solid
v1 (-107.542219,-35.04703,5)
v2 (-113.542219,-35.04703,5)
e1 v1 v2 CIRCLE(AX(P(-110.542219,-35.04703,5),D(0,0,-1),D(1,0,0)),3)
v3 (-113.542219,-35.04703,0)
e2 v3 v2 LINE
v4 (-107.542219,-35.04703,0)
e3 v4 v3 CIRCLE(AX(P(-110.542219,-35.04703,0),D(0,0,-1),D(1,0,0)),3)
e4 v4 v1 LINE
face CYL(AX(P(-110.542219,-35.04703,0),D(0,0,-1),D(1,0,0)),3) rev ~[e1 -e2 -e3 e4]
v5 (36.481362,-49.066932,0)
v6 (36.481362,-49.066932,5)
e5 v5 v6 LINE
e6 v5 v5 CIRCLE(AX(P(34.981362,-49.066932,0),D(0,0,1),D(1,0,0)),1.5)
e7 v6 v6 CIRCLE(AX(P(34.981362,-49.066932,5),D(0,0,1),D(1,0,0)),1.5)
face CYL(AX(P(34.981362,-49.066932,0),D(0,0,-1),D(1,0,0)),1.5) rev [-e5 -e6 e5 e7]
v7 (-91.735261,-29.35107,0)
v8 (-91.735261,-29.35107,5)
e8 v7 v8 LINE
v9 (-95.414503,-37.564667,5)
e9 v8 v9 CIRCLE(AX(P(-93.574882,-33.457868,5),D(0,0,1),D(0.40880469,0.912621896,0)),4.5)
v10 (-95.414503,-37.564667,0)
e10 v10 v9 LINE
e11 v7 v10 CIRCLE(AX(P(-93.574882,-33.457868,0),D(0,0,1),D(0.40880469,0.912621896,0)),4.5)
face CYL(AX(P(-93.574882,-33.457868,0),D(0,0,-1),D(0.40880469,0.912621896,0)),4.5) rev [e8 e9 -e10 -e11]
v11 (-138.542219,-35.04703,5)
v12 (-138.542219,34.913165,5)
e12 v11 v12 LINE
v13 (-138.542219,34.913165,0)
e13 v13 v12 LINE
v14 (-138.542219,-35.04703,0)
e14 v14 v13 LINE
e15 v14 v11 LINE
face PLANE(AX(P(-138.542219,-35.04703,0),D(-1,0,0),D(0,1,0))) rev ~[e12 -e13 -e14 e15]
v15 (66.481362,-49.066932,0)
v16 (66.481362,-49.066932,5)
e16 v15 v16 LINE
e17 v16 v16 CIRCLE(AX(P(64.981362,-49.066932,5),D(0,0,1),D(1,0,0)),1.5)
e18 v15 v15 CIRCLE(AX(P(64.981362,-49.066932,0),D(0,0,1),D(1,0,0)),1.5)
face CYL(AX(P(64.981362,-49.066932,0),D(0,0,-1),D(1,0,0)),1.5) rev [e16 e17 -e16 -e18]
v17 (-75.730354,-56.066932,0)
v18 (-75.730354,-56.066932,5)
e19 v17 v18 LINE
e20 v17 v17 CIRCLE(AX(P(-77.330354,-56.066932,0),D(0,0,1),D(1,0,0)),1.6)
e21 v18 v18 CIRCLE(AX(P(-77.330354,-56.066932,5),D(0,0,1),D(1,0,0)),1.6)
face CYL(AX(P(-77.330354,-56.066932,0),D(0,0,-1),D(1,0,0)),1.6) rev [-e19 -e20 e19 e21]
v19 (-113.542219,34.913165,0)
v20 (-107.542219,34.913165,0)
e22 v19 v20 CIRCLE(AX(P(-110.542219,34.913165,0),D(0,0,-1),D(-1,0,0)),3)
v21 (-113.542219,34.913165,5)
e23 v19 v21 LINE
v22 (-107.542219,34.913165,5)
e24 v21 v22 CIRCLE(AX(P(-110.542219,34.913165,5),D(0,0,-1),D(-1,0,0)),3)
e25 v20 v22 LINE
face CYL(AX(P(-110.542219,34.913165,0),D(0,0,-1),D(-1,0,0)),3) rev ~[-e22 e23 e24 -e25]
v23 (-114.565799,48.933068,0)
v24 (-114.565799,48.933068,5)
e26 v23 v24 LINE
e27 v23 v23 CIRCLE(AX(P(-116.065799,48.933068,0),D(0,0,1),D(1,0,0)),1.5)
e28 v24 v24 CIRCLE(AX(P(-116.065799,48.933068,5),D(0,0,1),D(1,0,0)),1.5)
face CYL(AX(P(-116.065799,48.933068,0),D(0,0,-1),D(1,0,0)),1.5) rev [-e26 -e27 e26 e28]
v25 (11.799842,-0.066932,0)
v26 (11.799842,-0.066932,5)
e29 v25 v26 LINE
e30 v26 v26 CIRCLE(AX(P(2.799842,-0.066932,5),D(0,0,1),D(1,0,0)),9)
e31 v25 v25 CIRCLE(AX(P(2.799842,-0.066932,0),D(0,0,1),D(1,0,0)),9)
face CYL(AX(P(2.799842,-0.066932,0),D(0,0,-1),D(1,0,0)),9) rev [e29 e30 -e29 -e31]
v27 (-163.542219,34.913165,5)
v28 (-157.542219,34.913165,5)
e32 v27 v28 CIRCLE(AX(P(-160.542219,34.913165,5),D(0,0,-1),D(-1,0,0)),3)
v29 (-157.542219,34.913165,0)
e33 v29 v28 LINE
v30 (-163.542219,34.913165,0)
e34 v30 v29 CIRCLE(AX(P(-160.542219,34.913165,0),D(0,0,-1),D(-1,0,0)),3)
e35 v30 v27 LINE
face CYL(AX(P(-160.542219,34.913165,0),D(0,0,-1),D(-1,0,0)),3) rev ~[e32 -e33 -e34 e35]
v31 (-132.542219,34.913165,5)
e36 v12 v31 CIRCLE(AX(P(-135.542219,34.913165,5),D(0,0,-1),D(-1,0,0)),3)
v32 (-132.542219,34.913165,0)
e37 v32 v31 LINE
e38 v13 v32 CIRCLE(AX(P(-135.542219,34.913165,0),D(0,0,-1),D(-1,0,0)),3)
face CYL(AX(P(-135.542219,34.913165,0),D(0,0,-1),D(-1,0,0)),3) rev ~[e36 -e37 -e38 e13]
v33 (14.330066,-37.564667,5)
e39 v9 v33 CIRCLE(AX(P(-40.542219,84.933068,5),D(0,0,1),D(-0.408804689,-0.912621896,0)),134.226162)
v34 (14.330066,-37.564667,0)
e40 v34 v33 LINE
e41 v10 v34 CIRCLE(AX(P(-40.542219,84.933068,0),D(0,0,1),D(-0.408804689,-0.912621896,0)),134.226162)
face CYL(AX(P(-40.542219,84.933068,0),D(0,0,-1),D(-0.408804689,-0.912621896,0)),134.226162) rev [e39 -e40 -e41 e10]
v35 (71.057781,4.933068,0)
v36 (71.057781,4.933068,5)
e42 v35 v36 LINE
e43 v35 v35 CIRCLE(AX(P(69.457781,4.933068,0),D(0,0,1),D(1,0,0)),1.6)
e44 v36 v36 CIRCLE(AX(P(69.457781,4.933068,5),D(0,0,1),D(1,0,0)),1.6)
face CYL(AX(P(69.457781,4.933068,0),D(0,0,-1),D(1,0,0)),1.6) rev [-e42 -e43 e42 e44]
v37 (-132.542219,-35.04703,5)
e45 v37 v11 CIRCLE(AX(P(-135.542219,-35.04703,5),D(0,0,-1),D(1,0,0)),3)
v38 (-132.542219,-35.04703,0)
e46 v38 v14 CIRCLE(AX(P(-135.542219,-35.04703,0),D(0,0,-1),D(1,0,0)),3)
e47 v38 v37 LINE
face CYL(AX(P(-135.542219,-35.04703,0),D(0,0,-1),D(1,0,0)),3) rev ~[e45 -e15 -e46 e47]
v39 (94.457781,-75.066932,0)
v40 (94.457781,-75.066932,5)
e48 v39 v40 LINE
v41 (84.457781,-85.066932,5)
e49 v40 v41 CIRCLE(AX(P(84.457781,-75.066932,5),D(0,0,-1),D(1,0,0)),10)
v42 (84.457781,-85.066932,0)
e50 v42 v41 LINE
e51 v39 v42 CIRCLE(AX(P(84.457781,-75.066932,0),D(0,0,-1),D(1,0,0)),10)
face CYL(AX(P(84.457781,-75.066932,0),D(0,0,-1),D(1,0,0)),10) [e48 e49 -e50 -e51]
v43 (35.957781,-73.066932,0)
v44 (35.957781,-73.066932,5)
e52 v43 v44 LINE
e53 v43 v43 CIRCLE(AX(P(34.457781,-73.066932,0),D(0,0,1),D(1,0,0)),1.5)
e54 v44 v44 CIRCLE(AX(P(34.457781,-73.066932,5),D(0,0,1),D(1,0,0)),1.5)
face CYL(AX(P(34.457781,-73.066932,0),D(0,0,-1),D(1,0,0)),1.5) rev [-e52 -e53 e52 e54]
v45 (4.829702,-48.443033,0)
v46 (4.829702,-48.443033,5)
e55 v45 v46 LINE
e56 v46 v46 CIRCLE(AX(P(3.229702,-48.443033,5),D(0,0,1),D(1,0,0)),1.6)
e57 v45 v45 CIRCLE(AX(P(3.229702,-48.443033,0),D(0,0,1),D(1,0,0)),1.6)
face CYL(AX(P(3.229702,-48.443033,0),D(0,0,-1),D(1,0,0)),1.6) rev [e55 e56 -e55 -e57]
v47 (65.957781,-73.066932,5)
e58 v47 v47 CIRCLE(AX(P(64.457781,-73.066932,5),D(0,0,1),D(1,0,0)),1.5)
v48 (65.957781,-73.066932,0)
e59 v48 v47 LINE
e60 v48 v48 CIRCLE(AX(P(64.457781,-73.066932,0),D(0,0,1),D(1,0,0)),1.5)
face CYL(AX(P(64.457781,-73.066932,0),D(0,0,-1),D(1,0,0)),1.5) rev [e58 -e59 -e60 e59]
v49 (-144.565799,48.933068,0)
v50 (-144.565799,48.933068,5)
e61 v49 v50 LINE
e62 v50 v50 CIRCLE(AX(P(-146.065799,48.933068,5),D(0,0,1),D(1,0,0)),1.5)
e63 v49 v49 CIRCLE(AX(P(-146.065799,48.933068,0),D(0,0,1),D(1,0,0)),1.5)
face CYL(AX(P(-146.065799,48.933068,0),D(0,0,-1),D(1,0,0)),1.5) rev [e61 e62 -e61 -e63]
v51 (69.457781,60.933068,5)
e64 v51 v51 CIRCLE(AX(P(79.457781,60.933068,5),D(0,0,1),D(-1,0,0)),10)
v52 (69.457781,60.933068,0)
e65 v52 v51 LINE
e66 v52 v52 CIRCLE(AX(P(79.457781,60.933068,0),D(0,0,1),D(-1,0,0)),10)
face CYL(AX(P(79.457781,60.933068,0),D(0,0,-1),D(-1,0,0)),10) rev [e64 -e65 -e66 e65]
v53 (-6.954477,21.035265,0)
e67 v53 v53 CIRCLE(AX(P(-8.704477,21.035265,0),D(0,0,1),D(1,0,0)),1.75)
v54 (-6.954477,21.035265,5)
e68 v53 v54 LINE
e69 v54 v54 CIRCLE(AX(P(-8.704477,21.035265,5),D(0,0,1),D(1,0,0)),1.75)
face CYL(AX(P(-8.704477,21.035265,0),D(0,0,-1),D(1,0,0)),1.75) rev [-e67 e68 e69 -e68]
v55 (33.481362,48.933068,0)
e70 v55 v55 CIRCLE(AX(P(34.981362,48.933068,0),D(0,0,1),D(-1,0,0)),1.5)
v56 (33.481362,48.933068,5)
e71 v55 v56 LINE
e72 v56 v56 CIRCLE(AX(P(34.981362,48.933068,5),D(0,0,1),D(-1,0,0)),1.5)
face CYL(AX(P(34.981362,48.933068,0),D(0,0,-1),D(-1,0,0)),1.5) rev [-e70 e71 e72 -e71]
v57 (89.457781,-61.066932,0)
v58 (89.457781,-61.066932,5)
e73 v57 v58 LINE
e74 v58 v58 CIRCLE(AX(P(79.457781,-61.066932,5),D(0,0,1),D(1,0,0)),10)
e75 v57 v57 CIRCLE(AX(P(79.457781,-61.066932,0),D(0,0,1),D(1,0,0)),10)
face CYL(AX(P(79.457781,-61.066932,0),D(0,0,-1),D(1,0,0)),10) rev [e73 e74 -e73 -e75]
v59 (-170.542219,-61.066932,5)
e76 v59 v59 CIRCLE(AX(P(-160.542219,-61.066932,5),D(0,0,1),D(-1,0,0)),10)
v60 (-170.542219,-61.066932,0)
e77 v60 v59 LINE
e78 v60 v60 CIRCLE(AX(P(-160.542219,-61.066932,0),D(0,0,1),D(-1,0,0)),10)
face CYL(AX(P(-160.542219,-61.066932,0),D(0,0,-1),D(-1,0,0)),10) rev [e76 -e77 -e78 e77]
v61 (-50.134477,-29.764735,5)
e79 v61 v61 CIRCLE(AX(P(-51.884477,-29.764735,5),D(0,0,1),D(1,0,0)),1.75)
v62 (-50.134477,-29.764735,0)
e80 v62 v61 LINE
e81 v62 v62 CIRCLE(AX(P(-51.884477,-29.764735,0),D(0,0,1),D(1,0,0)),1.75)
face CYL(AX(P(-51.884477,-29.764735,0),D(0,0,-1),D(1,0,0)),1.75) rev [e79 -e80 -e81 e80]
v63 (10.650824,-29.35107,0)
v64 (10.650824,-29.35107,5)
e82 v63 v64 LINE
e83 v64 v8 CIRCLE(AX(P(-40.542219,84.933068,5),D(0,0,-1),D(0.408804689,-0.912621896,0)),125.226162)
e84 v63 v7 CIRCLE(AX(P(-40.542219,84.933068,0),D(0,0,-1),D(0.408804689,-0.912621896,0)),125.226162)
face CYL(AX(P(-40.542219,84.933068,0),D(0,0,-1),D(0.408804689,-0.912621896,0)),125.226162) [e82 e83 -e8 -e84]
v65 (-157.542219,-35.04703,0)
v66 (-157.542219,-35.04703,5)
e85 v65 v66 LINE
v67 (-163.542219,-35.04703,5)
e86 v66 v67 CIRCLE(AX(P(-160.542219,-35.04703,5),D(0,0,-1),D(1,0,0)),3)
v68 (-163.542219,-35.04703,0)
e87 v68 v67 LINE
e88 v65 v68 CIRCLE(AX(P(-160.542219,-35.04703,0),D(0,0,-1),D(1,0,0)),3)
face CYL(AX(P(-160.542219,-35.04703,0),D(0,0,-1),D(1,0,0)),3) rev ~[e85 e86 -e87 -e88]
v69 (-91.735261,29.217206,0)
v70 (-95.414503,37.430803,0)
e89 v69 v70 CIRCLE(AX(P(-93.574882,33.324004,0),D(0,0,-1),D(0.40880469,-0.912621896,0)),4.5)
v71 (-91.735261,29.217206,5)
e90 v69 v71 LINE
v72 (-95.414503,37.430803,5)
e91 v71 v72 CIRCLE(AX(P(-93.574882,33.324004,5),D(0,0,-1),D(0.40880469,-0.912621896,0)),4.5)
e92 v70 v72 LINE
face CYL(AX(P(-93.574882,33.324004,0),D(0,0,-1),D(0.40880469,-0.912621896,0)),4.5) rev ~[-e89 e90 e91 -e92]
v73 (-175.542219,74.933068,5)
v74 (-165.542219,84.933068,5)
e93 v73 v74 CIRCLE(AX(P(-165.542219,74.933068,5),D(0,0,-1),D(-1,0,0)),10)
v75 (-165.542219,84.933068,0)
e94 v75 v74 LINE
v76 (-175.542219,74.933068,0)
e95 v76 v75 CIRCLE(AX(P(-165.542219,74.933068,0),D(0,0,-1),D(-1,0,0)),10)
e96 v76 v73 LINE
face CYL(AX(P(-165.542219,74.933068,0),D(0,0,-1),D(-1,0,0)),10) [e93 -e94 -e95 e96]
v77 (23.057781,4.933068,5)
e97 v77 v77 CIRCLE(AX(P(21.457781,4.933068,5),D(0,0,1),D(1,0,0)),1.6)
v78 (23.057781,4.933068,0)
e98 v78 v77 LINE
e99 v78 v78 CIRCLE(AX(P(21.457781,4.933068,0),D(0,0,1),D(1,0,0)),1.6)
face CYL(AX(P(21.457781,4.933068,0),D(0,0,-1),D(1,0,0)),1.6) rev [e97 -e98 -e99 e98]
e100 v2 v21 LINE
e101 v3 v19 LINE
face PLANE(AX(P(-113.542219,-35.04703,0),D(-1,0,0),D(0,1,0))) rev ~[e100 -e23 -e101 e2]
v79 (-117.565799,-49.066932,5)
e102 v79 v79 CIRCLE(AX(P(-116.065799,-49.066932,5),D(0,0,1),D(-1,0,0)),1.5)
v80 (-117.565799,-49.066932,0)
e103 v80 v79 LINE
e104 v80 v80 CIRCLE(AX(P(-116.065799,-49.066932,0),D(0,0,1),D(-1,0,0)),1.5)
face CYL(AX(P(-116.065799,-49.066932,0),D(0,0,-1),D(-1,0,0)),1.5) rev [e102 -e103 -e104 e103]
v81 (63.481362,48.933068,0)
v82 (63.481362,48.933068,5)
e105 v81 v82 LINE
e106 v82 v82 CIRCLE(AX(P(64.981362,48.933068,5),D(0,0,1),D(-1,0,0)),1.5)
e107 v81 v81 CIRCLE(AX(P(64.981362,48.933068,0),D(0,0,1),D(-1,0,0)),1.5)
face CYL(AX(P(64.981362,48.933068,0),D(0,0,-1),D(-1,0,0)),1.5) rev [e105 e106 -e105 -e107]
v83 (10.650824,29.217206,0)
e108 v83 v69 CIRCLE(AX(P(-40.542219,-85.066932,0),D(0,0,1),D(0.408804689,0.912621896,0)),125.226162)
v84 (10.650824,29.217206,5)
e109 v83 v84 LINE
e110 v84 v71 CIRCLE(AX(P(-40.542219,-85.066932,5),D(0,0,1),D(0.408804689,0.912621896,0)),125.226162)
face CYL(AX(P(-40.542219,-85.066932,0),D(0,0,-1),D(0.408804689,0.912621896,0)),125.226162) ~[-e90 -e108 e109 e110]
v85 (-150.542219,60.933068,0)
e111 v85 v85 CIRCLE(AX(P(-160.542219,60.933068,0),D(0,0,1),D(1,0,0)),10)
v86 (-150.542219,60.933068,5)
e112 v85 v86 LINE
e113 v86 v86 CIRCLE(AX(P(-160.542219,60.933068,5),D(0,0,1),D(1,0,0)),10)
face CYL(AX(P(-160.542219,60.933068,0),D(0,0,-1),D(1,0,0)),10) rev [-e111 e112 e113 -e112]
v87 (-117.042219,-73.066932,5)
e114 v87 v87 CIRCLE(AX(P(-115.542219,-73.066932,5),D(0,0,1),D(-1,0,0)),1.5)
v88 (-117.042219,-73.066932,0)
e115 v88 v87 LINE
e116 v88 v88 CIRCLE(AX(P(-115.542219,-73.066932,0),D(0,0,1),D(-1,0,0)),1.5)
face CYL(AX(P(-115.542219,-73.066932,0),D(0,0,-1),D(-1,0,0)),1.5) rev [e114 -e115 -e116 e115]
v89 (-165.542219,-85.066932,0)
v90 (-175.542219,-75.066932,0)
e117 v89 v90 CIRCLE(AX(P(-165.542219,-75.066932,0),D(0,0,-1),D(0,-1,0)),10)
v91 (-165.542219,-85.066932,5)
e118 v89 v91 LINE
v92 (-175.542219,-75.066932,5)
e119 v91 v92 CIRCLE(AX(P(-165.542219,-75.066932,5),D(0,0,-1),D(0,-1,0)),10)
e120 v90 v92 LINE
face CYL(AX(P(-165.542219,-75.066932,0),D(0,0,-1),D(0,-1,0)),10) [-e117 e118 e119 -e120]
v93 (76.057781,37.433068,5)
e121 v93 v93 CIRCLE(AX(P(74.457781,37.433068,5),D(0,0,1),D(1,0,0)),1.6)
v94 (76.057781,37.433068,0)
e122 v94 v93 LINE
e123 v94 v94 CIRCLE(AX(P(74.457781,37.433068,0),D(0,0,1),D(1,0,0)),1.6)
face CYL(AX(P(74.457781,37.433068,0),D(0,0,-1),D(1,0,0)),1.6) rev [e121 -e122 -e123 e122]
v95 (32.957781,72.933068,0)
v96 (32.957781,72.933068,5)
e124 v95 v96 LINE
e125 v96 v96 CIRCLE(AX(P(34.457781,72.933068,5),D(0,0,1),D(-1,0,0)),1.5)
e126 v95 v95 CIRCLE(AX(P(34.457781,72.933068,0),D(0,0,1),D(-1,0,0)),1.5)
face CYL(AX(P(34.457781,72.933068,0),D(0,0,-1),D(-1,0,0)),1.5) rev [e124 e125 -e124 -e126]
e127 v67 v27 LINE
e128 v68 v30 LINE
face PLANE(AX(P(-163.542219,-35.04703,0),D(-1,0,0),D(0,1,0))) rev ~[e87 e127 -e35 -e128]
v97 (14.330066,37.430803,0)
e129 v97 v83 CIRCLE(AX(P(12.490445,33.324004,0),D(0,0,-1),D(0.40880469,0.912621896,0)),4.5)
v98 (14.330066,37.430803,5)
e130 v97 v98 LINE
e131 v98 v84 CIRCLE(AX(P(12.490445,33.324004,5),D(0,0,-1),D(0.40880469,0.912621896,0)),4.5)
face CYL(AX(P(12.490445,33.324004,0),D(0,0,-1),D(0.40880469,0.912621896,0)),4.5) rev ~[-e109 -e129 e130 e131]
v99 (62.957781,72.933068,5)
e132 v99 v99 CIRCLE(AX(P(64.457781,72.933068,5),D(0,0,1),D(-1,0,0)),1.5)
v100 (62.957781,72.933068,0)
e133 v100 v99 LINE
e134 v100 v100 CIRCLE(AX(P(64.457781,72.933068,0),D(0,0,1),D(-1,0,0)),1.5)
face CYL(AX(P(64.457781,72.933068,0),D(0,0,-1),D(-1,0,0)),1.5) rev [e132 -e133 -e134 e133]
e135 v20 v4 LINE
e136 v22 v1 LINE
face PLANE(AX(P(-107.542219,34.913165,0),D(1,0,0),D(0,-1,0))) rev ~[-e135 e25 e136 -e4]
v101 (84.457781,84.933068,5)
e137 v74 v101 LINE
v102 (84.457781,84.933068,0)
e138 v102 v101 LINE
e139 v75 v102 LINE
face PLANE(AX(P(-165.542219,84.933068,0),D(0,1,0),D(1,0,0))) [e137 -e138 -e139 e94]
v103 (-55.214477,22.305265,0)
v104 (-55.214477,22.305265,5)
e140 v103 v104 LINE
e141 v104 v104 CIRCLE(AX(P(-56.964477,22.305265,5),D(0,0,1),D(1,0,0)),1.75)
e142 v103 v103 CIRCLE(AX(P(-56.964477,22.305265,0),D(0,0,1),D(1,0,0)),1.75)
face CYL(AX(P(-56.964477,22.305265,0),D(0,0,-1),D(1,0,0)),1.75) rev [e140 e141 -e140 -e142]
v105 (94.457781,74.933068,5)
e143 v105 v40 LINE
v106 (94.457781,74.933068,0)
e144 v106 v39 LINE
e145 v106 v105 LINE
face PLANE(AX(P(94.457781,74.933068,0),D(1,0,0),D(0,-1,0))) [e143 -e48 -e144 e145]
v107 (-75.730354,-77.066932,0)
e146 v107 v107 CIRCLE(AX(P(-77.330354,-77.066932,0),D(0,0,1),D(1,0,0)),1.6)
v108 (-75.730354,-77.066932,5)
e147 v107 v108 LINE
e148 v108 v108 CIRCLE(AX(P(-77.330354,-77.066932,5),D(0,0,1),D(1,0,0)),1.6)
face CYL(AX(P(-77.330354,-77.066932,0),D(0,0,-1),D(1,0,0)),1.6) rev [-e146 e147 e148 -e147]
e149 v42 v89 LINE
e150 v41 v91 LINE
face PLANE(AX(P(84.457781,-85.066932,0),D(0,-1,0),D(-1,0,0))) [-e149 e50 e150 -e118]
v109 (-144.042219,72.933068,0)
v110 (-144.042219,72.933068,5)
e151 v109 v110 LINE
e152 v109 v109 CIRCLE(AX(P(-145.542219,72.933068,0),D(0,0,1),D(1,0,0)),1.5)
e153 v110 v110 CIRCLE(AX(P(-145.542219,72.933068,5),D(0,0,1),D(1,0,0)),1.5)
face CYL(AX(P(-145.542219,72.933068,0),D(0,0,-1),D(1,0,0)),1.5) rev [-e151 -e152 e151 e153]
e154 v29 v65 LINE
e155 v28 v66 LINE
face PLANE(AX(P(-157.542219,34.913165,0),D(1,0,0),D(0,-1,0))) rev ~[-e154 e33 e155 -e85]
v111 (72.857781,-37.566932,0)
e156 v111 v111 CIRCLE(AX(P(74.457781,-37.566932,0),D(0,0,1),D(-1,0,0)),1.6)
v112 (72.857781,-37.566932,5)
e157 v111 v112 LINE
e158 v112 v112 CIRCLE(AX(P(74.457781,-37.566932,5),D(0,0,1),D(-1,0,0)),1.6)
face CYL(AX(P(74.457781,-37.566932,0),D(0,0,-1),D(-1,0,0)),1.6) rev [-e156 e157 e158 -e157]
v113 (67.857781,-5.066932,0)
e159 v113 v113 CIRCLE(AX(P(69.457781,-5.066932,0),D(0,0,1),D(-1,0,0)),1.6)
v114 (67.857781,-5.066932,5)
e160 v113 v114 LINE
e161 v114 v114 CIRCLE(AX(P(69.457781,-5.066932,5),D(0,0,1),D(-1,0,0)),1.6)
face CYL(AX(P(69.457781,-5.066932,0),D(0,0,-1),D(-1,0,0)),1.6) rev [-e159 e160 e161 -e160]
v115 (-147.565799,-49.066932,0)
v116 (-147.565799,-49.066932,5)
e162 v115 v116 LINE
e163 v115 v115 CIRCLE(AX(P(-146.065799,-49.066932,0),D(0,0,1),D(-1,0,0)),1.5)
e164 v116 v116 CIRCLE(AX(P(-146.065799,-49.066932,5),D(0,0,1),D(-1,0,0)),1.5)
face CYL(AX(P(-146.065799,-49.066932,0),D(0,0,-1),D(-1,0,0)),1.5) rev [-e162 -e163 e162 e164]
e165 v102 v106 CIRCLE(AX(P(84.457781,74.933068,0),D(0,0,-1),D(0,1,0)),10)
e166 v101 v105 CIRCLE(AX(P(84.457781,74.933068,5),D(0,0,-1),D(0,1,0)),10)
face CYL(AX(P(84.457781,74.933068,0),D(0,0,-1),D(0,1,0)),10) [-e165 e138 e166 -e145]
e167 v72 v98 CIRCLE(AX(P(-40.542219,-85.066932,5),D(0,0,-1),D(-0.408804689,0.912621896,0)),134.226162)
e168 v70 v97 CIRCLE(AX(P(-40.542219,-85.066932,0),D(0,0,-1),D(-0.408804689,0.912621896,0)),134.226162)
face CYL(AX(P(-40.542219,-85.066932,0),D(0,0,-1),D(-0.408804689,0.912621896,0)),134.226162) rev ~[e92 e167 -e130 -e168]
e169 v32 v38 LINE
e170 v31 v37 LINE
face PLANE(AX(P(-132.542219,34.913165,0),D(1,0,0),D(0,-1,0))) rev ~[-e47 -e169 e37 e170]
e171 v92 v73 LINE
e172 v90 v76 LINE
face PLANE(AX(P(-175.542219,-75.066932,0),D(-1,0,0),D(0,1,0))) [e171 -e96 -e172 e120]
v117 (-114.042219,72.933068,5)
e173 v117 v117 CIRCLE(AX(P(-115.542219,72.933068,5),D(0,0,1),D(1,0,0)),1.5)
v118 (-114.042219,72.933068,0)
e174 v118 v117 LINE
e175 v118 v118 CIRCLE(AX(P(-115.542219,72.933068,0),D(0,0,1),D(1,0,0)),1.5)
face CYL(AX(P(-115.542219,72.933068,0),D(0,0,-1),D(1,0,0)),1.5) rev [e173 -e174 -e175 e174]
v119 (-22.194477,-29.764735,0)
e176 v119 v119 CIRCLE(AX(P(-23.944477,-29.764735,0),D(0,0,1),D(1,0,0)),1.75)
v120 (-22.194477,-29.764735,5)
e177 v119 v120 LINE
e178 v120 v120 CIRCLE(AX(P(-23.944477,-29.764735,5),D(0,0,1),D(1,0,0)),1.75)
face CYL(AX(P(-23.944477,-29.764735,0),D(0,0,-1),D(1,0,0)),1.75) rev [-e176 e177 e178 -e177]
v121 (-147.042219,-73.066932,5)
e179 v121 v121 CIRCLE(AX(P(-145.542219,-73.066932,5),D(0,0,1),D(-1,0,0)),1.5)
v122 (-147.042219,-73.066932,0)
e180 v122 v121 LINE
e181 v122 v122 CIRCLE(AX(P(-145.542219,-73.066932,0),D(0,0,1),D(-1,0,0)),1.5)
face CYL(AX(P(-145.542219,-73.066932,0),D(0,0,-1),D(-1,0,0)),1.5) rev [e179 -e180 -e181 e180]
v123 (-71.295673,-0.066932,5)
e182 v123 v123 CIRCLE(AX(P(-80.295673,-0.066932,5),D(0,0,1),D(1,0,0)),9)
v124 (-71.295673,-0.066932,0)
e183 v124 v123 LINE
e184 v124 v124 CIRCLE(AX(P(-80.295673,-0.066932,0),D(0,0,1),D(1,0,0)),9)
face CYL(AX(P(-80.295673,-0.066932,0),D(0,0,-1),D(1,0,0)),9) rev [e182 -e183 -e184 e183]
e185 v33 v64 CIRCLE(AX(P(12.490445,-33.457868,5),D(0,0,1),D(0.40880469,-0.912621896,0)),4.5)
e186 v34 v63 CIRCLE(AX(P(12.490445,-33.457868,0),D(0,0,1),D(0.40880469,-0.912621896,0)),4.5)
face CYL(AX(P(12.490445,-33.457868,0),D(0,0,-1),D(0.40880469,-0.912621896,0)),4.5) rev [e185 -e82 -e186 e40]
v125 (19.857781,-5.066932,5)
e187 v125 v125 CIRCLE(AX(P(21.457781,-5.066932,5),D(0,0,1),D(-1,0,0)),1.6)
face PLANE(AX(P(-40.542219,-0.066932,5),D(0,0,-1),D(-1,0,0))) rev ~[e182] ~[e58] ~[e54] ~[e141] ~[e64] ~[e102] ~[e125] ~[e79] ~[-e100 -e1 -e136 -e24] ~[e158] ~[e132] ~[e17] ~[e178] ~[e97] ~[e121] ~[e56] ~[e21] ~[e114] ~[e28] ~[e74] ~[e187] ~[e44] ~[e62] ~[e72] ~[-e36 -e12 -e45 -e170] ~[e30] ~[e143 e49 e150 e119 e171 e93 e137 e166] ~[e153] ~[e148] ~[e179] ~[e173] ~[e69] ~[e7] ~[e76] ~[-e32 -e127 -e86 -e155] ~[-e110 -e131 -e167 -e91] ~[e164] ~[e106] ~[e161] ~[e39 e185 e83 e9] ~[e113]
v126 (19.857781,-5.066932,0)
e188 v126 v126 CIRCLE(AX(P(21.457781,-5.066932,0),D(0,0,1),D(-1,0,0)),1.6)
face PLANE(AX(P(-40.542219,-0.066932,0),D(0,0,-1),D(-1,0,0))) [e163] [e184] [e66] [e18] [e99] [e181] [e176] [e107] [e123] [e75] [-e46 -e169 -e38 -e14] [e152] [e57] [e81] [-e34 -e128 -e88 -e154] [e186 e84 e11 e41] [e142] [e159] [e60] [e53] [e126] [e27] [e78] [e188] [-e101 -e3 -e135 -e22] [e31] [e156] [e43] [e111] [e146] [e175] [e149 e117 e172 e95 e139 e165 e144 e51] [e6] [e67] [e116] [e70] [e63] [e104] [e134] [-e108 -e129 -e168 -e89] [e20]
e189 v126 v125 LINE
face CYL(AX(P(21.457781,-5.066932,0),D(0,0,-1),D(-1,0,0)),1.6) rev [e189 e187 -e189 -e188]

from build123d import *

# Parameters (mm, degrees)
SKETCH_2_R      = 1.5
SKETCH_2_R_2    = 1.6
SKETCH_2_R_3    = 1.75
SKETCH_2_R_4    = 9
SKETCH_2_R_5    = 10
EXTRUDE_1_DEPTH = 5


with BuildPart() as part:
    # 草图2 → 凸台-拉伸1 (new body)
    with BuildSketch(Plane.XY):
        with BuildLine():
            Line((-165.542218516, 84.933067874), (84.457781484, 84.933067874))
            ThreePointArc((84.457781484, 84.933067874), (91.528849296, 82.004135686), (94.457781484, 74.933067874))
            Line((94.457781484, 74.933067874), (94.457781484, -75.066932126))
            ThreePointArc((94.457781484, -75.066932126), (91.528849296, -82.137999937), (84.457781484, -85.066932126))
            Line((84.457781484, -85.066932126), (-165.542218516, -85.066932126))
            ThreePointArc((-165.542218516, -85.066932126), (-172.613286328, -82.137999937), (-175.542218516, -75.066932126))
            Line((-175.542218516, -75.066932126), (-175.542218516, 74.933067874))
            ThreePointArc((-175.542218516, 74.933067874), (-172.613286328, 82.004135686), (-165.542218516, 84.933067874))
        make_face()
        with Locations((-145.542218516, 72.933067874)):
            Circle(SKETCH_2_R, mode=Mode.SUBTRACT)
        with Locations((-115.542218516, 72.933067874)):
            Circle(SKETCH_2_R, mode=Mode.SUBTRACT)
        with Locations((-146.065799187, 48.933067874)):
            Circle(SKETCH_2_R, mode=Mode.SUBTRACT)
        with Locations((-116.065799187, 48.933067874)):
            Circle(SKETCH_2_R, mode=Mode.SUBTRACT)
        with Locations(Location((-116.065799187, -49.066932126, 0), (0, 0, 180))):
            Circle(SKETCH_2_R, mode=Mode.SUBTRACT)
        with Locations(Location((-115.542218516, -73.066932126, 0), (0, 0, 180))):
            Circle(SKETCH_2_R, mode=Mode.SUBTRACT)
        with Locations(Location((-145.542218516, -73.066932126, 0), (0, 0, 180))):
            Circle(SKETCH_2_R, mode=Mode.SUBTRACT)
        with Locations(Location((-146.065799187, -49.066932126, 0), (0, 0, 180))):
            Circle(SKETCH_2_R, mode=Mode.SUBTRACT)
        with Locations(Location((64.981362155, 48.933067874, 0), (0, 0, 180))):
            Circle(SKETCH_2_R, mode=Mode.SUBTRACT)
        with Locations(Location((34.981362155, 48.933067874, 0), (0, 0, 180))):
            Circle(SKETCH_2_R, mode=Mode.SUBTRACT)
        with Locations(Location((34.457781484, 72.933067874, 0), (0, 0, 180))):
            Circle(SKETCH_2_R, mode=Mode.SUBTRACT)
        with Locations(Location((64.457781484, 72.933067874, 0), (0, 0, 180))):
            Circle(SKETCH_2_R, mode=Mode.SUBTRACT)
        with Locations((34.457781484, -73.066932126)):
            Circle(SKETCH_2_R, mode=Mode.SUBTRACT)
        with Locations((34.981362155, -49.066932126)):
            Circle(SKETCH_2_R, mode=Mode.SUBTRACT)
        with Locations((64.981362155, -49.066932126)):
            Circle(SKETCH_2_R, mode=Mode.SUBTRACT)
        with Locations((64.457781484, -73.066932126)):
            Circle(SKETCH_2_R, mode=Mode.SUBTRACT)
        with Locations((74.457781484, 37.433067874)):
            Circle(SKETCH_2_R_2, mode=Mode.SUBTRACT)
        with Locations(Location((74.457781484, -37.566932126, 0), (0, 0, 180))):
            Circle(SKETCH_2_R_2, mode=Mode.SUBTRACT)
        with Locations((69.457781484, 4.933067874)):
            Circle(SKETCH_2_R_2, mode=Mode.SUBTRACT)
        with Locations((21.457781484, 4.933067874)):
            Circle(SKETCH_2_R_2, mode=Mode.SUBTRACT)
        with Locations(Location((69.457781484, -5.066932126, 0), (0, 0, 180))):
            Circle(SKETCH_2_R_2, mode=Mode.SUBTRACT)
        with Locations(Location((21.457781484, -5.066932126, 0), (0, 0, 180))):
            Circle(SKETCH_2_R_2, mode=Mode.SUBTRACT)
        with Locations((-23.944476924, -29.764734827)):
            Circle(SKETCH_2_R_3, mode=Mode.SUBTRACT)
        with Locations((-51.884476924, -29.764734827)):
            Circle(SKETCH_2_R_3, mode=Mode.SUBTRACT)
        with Locations((-8.704476924, 21.035265173)):
            Circle(SKETCH_2_R_3, mode=Mode.SUBTRACT)
        with Locations((-56.964476924, 22.305265173)):
            Circle(SKETCH_2_R_3, mode=Mode.SUBTRACT)
        with Locations((2.799841961, -0.066932126)):
            Circle(SKETCH_2_R_4, mode=Mode.SUBTRACT)
        with Locations((-80.295672717, -0.066932126)):
            Circle(SKETCH_2_R_4, mode=Mode.SUBTRACT)
        with Locations((-160.542218516, 60.933067874)):
            Circle(SKETCH_2_R_5, mode=Mode.SUBTRACT)
        with Locations(Location((-160.542218516, -61.066932126, 0), (0, 0, 180))):
            Circle(SKETCH_2_R_5, mode=Mode.SUBTRACT)
        with Locations((-77.330354065, -56.066932126)):
            Circle(SKETCH_2_R_2, mode=Mode.SUBTRACT)
        with Locations((-77.330354065, -77.066932126)):
            Circle(SKETCH_2_R_2, mode=Mode.SUBTRACT)
        with Locations((3.229701528, -48.443032681)):
            Circle(SKETCH_2_R_2, mode=Mode.SUBTRACT)
        with Locations((79.457781484, -61.066932126)):
            Circle(SKETCH_2_R_5, mode=Mode.SUBTRACT)
        with Locations(Location((79.457781484, 60.933067874, 0), (0, 0, 180))):
            Circle(SKETCH_2_R_5, mode=Mode.SUBTRACT)
        with BuildLine():
            Line((-157.542218516, 34.913165474), (-157.542218516, -35.047029725))
            ThreePointArc((-157.542218516, -35.047029725), (-160.542218516, -38.047029725), (-163.542218516, -35.047029725))
            Line((-163.542218516, -35.047029725), (-163.542218516, 34.913165474))
            ThreePointArc((-163.542218516, 34.913165474), (-160.542218516, 37.913165474), (-157.542218516, 34.913165474))
        make_face(mode=Mode.SUBTRACT)
        with BuildLine():
            Line((-132.542218516, 34.913165474), (-132.542218516, -35.047029725))
            ThreePointArc((-132.542218516, -35.047029725), (-135.542218516, -38.047029725), (-138.542218516, -35.047029725))
            Line((-138.542218516, -35.047029725), (-138.542218516, 34.913165474))
            ThreePointArc((-138.542218516, 34.913165474), (-135.542218516, 37.913165474), (-132.542218516, 34.913165474))
        make_face(mode=Mode.SUBTRACT)
        with BuildLine():
            Line((-107.542218516, 34.913165474), (-107.542218516, -35.047029725))
            ThreePointArc((-107.542218516, -35.047029725), (-110.542218516, -38.047029725), (-113.542218516, -35.047029725))
            Line((-113.542218516, -35.047029725), (-113.542218516, 34.913165474))
            ThreePointArc((-113.542218516, 34.913165474), (-110.542218516, 37.913165474), (-107.542218516, 34.913165474))
        make_face(mode=Mode.SUBTRACT)
        with BuildLine():
            ThreePointArc((-95.414503132, -37.564666946), (-40.542218516, -49.29309446), (14.330066101, -37.564666946))
            ThreePointArc((14.330066101, -37.564666946), (16.597243532, -31.618247309), (10.650823895, -29.351069878))
            ThreePointArc((10.650823895, -29.351069878), (-40.542218516, -40.29309446), (-91.735260926, -29.351069878))
            ThreePointArc((-91.735260926, -29.351069878), (-97.681680563, -31.618247309), (-95.414503132, -37.564666946))
        make_face(mode=Mode.SUBTRACT)
        with BuildLine():
            ThreePointArc((-95.414503132, 37.430802695), (-40.542218516, 49.159230209), (14.330066101, 37.430802695))
            ThreePointArc((14.330066101, 37.430802695), (16.597243532, 31.484383058), (10.650823895, 29.217205627))
            ThreePointArc((10.650823895, 29.217205627), (-40.542218516, 40.159230209), (-91.735260926, 29.217205627))
            ThreePointArc((-91.735260926, 29.217205627), (-97.681680563, 31.484383058), (-95.414503132, 37.430802695))
        make_face(mode=Mode.SUBTRACT)
    extrude(amount=EXTRUDE_1_DEPTH)


solid = part.part
